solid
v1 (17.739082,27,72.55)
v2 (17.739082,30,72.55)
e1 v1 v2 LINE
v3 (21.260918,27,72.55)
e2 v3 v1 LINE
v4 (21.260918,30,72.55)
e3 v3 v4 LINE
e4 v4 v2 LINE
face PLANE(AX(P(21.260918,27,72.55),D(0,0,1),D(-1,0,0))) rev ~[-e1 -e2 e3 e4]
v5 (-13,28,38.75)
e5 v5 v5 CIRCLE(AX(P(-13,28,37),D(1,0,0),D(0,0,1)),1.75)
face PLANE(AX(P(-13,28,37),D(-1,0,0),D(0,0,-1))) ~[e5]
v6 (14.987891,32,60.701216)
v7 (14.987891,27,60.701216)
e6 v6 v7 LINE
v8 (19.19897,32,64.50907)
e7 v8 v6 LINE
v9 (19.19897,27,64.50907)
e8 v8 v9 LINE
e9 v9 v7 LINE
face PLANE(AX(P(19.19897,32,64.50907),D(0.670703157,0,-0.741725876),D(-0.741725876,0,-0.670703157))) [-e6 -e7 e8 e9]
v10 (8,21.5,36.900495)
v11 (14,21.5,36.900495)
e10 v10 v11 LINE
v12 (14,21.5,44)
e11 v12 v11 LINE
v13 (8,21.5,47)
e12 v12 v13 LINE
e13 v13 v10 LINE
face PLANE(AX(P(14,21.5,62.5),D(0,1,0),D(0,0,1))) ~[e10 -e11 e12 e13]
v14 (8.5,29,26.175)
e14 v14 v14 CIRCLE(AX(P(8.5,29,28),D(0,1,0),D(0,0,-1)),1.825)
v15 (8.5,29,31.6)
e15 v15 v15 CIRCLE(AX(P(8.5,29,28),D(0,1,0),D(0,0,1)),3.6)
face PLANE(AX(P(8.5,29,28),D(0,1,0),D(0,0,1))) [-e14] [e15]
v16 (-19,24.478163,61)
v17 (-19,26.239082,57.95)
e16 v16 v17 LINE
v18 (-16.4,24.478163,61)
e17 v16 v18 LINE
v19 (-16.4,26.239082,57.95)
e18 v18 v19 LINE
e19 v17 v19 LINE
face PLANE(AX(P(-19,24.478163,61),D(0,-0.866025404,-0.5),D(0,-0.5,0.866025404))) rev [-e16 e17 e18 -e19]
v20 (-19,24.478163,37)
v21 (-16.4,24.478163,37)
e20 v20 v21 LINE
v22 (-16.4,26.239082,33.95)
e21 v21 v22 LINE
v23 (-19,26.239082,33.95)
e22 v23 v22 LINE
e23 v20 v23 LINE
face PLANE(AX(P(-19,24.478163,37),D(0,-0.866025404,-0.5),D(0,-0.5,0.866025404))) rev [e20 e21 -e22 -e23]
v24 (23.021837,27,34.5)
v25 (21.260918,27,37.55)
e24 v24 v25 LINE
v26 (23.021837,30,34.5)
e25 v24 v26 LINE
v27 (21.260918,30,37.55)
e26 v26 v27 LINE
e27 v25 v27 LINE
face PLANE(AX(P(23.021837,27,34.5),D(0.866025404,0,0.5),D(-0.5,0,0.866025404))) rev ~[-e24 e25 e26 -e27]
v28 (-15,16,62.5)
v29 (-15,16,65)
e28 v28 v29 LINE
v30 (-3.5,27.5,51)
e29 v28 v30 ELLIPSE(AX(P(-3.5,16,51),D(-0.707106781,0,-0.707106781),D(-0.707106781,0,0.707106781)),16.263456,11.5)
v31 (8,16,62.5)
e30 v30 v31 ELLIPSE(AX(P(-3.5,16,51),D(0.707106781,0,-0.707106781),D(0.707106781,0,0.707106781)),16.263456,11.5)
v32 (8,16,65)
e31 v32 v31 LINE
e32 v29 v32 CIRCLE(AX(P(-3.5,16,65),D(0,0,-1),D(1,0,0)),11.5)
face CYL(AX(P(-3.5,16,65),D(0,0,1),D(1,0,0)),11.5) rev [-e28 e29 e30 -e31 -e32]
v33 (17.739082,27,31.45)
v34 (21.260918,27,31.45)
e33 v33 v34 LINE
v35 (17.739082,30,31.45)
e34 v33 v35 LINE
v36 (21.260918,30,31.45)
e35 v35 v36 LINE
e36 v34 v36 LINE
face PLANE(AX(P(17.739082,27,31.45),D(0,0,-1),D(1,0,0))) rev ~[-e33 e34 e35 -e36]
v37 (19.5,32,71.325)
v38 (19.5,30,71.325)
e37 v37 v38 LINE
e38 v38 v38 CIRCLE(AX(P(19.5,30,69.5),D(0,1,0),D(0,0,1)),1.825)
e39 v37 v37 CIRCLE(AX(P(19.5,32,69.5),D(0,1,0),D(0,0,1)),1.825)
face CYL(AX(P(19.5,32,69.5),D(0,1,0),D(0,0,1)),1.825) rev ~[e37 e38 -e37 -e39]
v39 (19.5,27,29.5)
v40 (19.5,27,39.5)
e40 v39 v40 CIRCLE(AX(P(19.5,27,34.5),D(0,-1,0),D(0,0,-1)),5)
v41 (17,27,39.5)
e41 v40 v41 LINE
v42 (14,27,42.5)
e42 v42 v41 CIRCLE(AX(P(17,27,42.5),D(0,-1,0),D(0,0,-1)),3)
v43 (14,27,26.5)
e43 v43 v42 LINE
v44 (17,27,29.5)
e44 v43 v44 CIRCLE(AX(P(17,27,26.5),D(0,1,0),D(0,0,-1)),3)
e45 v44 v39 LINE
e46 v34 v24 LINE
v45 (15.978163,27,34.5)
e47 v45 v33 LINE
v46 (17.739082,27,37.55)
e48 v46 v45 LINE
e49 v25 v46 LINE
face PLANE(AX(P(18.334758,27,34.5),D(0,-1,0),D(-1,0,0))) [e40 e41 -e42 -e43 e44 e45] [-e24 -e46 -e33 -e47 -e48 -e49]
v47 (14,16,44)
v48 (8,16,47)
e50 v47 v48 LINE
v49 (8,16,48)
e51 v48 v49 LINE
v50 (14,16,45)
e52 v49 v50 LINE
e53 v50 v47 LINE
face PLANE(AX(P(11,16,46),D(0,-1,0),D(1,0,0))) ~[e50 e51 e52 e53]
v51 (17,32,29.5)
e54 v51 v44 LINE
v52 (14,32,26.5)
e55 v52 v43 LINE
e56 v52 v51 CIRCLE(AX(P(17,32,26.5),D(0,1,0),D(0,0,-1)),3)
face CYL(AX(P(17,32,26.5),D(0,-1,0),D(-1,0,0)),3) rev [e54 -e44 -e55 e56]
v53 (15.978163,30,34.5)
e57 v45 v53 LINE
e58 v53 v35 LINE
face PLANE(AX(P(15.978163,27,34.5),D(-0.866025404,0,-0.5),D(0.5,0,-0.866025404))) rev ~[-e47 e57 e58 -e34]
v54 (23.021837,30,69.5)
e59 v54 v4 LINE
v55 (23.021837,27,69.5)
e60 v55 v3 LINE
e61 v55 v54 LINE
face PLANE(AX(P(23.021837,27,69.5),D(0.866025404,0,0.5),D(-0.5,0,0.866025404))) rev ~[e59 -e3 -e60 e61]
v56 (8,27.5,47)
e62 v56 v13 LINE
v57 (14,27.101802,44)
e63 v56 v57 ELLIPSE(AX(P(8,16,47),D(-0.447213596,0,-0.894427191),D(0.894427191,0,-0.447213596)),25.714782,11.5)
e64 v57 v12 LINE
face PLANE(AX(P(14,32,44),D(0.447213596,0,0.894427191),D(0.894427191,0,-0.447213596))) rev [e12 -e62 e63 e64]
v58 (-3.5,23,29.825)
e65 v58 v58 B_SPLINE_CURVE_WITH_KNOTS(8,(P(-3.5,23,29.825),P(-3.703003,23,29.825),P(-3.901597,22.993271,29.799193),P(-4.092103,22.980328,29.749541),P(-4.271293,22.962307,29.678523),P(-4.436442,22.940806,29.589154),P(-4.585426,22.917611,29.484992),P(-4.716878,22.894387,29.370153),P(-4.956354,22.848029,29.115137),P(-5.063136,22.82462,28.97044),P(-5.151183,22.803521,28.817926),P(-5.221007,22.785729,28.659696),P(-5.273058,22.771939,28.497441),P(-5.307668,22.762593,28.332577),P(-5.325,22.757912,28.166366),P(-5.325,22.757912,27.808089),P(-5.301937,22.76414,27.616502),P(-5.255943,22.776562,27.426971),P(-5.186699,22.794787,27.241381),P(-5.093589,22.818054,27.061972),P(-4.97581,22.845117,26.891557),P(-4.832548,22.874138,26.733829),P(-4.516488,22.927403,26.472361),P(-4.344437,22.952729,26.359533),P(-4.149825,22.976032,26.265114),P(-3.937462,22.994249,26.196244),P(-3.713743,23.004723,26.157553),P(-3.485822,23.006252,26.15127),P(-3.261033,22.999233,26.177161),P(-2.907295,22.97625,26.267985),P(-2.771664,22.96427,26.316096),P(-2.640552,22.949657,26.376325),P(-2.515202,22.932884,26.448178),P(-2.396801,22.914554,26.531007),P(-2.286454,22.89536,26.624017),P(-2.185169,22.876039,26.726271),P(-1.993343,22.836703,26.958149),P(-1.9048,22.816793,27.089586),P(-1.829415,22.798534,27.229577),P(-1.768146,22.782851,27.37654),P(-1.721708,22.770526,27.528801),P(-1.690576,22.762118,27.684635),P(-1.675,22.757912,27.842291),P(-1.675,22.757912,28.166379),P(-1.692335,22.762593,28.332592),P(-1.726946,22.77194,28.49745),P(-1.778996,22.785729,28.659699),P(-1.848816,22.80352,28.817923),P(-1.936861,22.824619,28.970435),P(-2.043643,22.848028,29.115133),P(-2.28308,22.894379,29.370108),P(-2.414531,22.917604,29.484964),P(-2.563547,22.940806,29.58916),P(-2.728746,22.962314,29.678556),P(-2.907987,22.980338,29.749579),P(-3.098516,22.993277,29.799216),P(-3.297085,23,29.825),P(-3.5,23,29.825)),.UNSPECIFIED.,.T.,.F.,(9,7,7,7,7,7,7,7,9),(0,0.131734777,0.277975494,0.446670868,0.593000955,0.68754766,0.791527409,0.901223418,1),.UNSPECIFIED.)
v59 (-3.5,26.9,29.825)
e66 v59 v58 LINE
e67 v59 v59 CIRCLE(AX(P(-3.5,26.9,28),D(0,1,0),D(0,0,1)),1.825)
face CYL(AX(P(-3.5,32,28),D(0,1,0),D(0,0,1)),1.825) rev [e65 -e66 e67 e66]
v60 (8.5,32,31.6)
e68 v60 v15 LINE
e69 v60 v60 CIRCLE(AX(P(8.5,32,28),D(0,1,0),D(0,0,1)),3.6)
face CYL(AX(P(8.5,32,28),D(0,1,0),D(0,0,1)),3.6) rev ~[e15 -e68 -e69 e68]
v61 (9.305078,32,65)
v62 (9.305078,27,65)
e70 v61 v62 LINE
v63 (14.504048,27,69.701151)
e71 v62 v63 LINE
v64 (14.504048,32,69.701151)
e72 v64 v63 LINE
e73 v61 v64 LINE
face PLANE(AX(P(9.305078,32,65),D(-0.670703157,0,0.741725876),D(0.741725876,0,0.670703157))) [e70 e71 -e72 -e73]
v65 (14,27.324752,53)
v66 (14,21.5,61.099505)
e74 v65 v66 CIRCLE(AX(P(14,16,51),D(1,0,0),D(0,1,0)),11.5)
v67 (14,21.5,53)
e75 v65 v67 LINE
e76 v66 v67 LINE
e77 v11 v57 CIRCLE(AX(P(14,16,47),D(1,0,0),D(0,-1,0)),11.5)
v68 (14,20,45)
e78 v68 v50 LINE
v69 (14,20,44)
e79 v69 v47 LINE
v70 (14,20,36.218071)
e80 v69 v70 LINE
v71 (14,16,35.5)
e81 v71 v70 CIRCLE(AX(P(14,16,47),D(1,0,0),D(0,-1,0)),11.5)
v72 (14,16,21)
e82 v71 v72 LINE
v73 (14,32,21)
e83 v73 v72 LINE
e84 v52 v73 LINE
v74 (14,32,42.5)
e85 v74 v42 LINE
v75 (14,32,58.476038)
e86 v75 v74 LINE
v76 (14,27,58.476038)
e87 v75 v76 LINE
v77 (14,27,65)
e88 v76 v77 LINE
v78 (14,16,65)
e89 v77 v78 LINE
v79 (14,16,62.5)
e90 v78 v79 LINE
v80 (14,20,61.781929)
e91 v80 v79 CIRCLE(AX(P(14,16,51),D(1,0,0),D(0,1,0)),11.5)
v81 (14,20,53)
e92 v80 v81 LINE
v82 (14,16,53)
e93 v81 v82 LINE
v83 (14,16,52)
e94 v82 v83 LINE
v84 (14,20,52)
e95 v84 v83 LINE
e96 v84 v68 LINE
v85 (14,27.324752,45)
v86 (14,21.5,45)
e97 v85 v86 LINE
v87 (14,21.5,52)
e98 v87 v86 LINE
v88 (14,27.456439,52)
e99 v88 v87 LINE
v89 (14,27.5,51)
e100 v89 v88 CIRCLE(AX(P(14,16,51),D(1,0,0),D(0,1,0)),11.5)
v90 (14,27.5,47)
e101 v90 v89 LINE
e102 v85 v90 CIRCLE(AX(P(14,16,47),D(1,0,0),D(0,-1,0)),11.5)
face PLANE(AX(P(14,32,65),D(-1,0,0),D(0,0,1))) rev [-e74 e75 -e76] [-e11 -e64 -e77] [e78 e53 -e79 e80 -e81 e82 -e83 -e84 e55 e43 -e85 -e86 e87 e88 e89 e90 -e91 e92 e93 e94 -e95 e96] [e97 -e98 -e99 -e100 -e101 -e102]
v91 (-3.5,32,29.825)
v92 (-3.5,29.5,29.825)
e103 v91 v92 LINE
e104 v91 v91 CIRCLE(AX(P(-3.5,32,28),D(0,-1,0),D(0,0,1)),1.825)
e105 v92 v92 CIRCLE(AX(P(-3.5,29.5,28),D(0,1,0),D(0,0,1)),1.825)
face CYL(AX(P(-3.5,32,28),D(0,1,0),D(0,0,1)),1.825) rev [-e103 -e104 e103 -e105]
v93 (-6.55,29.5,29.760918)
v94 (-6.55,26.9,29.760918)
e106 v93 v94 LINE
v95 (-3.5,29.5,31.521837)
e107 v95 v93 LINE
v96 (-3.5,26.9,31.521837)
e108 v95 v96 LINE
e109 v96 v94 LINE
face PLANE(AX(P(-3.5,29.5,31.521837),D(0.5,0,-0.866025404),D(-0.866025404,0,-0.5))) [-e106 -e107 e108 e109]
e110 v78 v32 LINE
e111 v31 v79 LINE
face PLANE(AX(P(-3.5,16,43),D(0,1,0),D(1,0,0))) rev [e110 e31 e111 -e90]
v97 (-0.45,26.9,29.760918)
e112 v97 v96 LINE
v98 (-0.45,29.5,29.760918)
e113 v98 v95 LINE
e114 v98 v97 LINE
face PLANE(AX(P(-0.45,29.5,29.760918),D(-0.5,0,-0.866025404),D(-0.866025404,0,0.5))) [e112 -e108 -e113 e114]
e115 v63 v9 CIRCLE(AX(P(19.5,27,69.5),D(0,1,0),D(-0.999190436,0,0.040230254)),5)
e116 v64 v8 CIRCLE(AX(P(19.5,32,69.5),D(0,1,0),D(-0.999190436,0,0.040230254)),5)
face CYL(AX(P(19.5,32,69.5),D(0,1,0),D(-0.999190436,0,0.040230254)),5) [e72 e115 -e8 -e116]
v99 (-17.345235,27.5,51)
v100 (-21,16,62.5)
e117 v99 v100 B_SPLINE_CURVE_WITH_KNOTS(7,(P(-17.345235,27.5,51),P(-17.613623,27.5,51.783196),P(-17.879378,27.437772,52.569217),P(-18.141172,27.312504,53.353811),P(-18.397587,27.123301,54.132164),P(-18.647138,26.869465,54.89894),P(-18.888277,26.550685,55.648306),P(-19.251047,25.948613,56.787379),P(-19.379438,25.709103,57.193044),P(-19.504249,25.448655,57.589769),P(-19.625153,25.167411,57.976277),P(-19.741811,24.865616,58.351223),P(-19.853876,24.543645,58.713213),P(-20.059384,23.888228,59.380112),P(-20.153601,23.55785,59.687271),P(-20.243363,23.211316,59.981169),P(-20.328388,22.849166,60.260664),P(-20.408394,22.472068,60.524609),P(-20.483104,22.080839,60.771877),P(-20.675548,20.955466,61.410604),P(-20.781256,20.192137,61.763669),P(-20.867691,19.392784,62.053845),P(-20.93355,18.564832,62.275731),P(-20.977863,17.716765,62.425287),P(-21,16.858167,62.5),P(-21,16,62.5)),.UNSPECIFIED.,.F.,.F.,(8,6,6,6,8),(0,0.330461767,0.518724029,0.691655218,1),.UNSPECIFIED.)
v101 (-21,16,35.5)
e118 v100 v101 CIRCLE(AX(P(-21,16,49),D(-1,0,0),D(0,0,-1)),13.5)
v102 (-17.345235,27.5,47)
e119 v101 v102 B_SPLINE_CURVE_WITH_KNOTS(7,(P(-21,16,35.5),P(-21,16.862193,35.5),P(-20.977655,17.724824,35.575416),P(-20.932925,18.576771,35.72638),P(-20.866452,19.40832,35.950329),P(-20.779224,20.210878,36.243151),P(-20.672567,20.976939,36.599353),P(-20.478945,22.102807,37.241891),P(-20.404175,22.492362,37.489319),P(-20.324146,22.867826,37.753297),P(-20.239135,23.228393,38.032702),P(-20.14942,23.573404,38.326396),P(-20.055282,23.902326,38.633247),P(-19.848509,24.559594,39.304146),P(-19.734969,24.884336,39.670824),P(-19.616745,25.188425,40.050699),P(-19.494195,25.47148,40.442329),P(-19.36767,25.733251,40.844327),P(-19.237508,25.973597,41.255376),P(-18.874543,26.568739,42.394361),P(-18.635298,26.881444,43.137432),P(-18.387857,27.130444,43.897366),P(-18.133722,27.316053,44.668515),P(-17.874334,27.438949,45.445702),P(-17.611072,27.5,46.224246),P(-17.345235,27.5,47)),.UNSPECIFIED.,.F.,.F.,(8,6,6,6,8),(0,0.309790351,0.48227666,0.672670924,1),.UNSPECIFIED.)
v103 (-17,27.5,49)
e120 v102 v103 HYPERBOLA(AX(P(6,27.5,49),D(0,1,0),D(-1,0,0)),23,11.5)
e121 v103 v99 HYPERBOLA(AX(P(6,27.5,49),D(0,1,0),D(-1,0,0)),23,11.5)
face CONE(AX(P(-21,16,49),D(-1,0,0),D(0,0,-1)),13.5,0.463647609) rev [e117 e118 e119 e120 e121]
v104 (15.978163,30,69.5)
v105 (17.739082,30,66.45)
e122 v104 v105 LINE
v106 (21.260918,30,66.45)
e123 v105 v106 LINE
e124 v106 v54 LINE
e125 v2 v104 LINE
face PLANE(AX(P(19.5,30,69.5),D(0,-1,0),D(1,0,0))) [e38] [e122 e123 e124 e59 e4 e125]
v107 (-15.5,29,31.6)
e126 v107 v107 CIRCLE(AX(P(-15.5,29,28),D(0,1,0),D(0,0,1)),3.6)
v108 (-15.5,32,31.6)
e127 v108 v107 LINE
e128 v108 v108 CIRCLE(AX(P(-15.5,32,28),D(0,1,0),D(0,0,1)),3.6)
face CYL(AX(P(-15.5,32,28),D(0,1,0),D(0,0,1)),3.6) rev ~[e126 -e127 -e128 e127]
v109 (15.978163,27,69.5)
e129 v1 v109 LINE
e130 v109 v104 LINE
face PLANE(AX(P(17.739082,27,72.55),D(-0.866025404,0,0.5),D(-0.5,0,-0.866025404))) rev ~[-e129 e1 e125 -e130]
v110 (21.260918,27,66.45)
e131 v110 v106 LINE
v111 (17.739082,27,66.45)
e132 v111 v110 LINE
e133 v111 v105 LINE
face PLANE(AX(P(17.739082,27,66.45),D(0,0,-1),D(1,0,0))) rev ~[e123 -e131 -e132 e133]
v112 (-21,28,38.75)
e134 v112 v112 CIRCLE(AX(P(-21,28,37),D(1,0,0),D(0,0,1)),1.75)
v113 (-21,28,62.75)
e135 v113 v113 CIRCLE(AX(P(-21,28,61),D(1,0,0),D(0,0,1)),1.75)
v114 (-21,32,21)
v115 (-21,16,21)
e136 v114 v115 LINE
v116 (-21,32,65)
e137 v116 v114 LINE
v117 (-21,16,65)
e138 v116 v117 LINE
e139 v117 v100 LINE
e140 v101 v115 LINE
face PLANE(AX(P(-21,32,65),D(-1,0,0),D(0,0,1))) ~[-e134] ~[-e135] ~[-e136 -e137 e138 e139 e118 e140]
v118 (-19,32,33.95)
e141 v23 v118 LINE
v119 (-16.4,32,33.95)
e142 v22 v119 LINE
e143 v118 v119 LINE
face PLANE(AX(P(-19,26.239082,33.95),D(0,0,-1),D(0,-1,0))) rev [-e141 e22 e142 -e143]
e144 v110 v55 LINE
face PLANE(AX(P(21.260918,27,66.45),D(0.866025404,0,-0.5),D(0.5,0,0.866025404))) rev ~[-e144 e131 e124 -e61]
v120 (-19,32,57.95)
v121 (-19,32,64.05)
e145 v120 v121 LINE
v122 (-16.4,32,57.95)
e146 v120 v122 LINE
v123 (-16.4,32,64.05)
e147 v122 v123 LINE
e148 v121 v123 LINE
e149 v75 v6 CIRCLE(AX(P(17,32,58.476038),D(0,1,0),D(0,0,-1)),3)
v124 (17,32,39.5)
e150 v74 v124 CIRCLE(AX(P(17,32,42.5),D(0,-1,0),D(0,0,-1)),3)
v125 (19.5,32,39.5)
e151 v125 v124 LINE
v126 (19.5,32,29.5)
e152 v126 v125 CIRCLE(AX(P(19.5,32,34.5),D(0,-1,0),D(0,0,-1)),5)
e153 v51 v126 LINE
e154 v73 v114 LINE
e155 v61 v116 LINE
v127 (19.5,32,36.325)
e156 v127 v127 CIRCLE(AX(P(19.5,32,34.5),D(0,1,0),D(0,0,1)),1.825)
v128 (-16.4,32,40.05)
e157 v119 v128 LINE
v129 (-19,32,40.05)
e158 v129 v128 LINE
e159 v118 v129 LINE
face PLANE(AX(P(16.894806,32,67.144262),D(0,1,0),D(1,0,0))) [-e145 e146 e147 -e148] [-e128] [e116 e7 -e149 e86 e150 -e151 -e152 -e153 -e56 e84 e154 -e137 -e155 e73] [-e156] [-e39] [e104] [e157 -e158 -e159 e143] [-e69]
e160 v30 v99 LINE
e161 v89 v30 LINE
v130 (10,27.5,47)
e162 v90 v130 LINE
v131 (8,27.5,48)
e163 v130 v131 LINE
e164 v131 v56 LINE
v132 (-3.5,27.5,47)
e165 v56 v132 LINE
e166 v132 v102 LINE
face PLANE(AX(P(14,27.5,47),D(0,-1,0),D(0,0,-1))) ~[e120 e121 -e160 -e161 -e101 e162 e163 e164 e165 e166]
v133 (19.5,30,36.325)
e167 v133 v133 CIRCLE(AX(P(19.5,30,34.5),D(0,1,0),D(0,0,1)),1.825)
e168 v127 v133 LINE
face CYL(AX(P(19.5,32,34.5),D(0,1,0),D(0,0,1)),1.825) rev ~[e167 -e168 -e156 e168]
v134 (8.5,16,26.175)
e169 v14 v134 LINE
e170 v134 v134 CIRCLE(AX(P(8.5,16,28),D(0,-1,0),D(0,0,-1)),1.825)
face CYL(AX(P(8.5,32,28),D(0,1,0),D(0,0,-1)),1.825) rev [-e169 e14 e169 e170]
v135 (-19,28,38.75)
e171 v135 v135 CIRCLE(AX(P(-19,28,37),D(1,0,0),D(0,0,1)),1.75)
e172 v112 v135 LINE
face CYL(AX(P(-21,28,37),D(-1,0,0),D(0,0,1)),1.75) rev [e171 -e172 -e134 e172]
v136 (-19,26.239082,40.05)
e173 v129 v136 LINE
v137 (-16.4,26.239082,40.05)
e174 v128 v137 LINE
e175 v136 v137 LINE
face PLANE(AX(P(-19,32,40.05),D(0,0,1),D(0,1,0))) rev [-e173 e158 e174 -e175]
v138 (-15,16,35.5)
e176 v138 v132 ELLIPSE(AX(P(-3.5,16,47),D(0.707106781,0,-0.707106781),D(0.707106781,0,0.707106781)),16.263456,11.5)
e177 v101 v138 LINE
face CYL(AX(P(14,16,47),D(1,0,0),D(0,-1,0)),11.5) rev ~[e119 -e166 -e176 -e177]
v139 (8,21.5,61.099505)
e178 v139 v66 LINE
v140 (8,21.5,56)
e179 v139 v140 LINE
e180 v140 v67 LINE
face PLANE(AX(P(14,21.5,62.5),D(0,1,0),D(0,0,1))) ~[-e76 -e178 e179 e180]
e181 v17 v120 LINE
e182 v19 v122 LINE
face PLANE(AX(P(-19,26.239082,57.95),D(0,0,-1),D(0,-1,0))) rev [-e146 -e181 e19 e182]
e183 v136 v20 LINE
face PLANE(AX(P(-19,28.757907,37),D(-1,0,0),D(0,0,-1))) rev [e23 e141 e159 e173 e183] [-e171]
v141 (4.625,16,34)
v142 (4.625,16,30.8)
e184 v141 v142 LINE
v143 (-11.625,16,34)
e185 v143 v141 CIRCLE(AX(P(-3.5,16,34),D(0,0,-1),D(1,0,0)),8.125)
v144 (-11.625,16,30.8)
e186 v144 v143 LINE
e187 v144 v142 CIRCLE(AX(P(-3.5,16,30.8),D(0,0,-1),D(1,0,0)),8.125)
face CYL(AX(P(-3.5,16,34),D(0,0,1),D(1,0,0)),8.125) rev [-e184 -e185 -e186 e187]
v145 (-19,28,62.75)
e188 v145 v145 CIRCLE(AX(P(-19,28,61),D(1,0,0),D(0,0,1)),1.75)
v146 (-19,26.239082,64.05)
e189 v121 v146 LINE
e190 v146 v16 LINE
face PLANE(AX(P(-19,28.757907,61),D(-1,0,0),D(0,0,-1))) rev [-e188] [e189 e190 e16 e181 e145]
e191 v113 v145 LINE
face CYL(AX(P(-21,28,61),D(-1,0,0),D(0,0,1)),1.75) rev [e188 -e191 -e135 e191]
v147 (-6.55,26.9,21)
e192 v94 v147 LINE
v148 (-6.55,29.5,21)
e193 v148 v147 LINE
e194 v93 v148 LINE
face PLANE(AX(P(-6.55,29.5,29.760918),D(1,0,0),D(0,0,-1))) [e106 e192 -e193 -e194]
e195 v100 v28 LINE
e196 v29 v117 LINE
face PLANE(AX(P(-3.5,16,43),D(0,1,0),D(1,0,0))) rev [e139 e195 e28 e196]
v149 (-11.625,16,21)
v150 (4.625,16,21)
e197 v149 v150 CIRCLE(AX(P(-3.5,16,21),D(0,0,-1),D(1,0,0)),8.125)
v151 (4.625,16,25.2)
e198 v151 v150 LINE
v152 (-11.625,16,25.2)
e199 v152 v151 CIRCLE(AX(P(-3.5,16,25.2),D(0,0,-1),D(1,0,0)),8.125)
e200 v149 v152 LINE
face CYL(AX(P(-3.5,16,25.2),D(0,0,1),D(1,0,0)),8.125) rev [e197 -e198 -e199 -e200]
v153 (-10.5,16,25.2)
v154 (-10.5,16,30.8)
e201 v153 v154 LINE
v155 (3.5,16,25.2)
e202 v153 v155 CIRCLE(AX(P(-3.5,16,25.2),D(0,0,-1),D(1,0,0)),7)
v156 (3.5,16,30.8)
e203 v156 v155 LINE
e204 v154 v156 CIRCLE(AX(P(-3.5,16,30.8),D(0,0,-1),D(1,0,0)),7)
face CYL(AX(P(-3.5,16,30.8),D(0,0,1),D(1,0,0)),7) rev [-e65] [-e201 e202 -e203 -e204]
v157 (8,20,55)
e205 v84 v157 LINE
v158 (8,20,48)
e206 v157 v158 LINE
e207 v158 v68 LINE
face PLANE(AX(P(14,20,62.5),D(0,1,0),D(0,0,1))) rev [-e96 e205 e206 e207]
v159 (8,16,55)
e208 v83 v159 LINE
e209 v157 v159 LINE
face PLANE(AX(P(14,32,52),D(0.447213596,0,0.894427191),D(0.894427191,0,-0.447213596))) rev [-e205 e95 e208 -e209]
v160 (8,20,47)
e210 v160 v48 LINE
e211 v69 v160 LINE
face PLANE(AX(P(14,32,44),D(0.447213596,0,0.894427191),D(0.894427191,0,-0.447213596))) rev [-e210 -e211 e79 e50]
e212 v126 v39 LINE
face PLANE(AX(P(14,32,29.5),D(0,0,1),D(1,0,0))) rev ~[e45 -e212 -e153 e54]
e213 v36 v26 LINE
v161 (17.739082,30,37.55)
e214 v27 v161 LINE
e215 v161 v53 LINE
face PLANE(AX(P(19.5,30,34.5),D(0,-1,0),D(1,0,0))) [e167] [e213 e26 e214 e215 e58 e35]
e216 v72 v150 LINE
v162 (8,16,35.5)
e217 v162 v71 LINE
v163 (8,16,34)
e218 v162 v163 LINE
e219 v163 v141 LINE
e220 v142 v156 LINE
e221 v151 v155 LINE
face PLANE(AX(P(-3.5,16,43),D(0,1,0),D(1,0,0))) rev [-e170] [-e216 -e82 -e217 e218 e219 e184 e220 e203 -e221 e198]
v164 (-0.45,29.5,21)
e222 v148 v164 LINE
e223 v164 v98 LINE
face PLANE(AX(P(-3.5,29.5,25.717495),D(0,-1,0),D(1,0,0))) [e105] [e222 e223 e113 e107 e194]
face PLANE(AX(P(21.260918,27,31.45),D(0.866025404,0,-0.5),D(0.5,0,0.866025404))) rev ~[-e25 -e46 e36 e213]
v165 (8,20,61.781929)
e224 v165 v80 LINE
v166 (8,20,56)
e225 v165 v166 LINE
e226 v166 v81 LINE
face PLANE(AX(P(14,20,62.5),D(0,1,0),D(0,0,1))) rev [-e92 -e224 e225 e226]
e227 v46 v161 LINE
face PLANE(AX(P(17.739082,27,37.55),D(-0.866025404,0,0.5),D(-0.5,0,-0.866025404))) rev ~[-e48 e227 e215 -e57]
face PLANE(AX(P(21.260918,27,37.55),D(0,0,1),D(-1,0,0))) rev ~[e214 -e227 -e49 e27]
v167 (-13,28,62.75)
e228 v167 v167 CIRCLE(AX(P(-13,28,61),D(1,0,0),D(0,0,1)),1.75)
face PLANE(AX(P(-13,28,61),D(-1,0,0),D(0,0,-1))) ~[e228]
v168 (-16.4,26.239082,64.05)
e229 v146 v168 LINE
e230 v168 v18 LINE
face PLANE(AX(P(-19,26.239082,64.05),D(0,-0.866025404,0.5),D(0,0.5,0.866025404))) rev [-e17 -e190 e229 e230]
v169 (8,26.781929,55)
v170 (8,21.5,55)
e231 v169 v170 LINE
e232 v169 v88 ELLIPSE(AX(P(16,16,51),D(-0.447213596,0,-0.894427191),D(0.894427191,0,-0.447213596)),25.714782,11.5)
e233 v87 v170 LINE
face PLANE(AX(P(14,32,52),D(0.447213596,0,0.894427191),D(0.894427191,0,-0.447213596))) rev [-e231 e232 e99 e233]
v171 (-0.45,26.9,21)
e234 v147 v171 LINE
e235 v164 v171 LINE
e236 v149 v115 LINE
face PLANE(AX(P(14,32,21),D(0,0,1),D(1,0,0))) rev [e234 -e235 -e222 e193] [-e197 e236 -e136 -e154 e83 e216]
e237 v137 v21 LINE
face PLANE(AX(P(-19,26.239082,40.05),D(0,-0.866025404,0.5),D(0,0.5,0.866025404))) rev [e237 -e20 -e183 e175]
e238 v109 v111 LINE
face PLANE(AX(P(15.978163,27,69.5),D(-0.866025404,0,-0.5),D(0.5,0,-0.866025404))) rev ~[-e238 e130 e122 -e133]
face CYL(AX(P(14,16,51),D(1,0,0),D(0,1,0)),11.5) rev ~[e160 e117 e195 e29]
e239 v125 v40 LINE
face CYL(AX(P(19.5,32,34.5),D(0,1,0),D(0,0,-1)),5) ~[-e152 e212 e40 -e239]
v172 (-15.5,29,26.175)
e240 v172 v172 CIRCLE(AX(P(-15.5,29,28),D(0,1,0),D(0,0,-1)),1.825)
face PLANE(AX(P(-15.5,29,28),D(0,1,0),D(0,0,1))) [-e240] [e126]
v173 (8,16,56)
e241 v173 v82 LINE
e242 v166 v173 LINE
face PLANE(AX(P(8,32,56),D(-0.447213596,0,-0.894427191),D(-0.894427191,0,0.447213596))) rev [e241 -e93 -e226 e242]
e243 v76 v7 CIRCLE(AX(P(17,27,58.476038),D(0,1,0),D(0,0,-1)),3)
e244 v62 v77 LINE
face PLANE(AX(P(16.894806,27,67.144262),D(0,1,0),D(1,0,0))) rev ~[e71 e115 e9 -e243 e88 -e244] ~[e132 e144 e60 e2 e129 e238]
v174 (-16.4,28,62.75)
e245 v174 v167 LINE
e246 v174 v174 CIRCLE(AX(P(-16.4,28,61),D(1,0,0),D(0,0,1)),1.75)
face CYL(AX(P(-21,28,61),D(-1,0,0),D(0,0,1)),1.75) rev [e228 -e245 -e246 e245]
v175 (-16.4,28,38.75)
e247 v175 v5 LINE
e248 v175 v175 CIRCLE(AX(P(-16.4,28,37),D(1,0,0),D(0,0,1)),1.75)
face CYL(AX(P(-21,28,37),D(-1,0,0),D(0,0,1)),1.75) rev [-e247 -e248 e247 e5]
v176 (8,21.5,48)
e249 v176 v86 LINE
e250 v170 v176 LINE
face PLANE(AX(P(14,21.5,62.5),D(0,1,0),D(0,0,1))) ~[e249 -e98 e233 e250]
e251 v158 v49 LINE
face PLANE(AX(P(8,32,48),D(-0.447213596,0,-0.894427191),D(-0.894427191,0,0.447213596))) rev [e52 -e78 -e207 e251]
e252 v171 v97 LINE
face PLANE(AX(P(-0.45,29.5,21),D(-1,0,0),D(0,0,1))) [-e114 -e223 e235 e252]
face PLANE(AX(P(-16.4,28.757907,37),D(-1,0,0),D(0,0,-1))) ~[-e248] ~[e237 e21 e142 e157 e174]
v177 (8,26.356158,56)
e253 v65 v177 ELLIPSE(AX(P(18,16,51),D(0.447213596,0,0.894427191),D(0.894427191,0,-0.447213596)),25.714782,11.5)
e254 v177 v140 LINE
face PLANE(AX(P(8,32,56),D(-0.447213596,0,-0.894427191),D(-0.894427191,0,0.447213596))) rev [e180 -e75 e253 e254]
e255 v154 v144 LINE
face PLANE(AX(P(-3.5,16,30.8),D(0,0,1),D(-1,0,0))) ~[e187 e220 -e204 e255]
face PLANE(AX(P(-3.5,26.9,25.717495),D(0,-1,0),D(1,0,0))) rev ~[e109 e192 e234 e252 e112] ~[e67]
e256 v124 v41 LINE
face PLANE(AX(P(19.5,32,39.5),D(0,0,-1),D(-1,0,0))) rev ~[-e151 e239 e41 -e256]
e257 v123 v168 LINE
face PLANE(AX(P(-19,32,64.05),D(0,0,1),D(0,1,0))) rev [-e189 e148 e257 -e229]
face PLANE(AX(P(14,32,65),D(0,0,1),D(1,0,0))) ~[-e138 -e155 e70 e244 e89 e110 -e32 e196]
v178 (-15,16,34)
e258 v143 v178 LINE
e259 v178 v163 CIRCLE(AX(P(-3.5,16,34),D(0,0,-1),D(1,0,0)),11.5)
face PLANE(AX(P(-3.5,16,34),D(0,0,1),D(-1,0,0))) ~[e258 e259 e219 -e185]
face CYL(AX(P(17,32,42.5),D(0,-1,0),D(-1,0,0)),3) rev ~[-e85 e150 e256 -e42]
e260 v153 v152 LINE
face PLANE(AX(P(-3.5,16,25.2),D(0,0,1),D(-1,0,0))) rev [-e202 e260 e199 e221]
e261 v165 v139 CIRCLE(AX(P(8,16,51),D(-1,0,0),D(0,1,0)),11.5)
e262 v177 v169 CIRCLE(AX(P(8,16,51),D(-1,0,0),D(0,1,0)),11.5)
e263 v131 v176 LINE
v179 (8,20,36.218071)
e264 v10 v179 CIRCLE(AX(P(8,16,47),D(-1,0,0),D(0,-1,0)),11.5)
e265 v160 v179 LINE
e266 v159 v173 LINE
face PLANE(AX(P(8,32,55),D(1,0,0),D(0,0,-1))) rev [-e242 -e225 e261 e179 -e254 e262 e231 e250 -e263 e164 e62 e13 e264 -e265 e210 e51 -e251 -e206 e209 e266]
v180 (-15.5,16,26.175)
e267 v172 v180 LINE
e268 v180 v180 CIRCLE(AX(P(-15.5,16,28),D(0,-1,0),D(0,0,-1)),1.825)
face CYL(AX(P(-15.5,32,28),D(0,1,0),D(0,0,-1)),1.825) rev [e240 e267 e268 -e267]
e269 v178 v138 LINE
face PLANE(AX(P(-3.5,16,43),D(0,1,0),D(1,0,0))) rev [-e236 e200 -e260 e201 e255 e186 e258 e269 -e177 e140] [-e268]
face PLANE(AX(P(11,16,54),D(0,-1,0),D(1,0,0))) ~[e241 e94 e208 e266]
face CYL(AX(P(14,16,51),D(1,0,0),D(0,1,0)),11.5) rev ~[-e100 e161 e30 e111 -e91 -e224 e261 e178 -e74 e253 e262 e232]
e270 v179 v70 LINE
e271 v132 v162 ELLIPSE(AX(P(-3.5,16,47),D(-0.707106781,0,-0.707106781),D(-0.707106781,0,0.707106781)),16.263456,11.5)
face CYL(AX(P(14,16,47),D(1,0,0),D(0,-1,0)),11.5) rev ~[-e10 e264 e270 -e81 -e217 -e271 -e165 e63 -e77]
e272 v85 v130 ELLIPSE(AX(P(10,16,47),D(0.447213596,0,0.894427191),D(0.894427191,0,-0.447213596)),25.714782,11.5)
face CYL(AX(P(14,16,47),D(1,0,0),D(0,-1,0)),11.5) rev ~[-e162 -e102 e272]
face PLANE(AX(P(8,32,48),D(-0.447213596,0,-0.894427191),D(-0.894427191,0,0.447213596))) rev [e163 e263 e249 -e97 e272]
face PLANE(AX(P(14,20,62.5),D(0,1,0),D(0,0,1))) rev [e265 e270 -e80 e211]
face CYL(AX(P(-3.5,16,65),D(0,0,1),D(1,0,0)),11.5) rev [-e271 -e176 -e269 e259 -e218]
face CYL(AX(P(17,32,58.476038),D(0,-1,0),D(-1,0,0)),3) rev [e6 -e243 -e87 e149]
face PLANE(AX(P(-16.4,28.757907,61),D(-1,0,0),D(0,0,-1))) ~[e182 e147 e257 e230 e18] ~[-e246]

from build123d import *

# Parameters (mm, degrees)
SKETCH12_W                = 35
SKETCH12_H                = 44
CHAMBER_DEPTH             = 16
SKETCH13_R                = 11.5
BODY_DEPTH                = 31
HOT_END_TONEL_DEPTH       = 76.538069872
SKETCH26_W                = 27
SKETCH26_H                = 1.5
GRID_V_DEPTH              = 6
GRID_H_DEPTH              = 16
SKETCH16_R                = 13.5
SKETCH18_R                = 11.5
SKETCH20_R                = 8.125
HOT_END_1_DEPTH           = 3.2
SKETCH21_R                = 7
HOT_END_2_DEPTH           = 5.6
SKETCH22_R                = 8.125
HOT_END_3_DEPTH           = 4.2
SKETCH24_R                = 1.825
MOUNT_HOLES_DEPTH         = 71.156967099
SKETCH25_R                = 1.75
FAN_MOUNT_HOLES_DEPTH     = 8
FAN_MOUNT_NUT_HOLES_START = -2
FAN_MOUNT_NUT_HOLES_DEPTH = 2.6
SKETCH32_R                = 1.825
HOT_END_SCREW_HOLE_DEPTH  = 20
HOT_END_NUT_HOLE_START    = 2.5
HOT_END_NUT_HOLE_DEPTH    = 2.6
SKETCH35_R                = 1.825
BOSS_EXTRUDE1_DEPTH       = 5
CUT_EXTRUDE5_DEPTH        = 3
SKETCH37_R                = 3.6
CUT_EXTRUDE6_DEPTH        = 3
FILLET1_R                 = 3


with BuildPart() as part:
    # Sketch12 → chamber (new body)
    with BuildSketch(Plane(origin=(0, 0, 0), x_dir=(-1, 0, 0), z_dir=(0, -1, 0))):
        with Locations((3.5, -43)):
            Rectangle(SKETCH12_W, SKETCH12_H)
    extrude(amount=-CHAMBER_DEPTH)

    # Sketch13 → body (cut)
    with BuildSketch(Plane.XY.offset(65)):
        with Locations((-3.5, 16)):
            Circle(SKETCH13_R)
    extrude(amount=-BODY_DEPTH, mode=Mode.SUBTRACT)

    # Sketch14 → hot-end-tonel (cut, through all)
    with BuildSketch(Plane(origin=(14, 0, 0), x_dir=(0, 0, -1), z_dir=(1, 0, 0))):
        with BuildLine():
            Line((-51, 27.5), (-47, 27.5))
            ThreePointArc((-47, 27.5), (-35.5, 16), (-47, 4.5))
            Line((-47, 4.5), (-51, 4.5))
            ThreePointArc((-51, 4.5), (-62.5, 16), (-51, 27.5))
        make_face()
    extrude(amount=-HOT_END_TONEL_DEPTH, mode=Mode.SUBTRACT)

    # Sketch26 → grid-v (add)
    with BuildSketch(Plane(origin=(14, 0, 0), x_dir=(0, 0, -1), z_dir=(1, 0, 0))):
        with Locations((-49, 11.25)):
            Rectangle(SKETCH26_W, SKETCH26_H)
    extrude(amount=-GRID_V_DEPTH)

    # Sketch27 → grid-h (add)
    with BuildSketch(Plane.XZ):
        Polygon((8, 56), (14, 53), (14, 52), (8, 55), align=None)
        Polygon((14, 44), (8, 47), (8, 48), (14, 45), align=None)
    extrude(amount=-GRID_H_DEPTH)

    # Sketch16 → Cut-Loft1 section 0
    with BuildSketch(Plane(origin=(-21, 0, 0), x_dir=(0, 0, -1), z_dir=(1, 0, 0))):
        with Locations((-49, 16)):
            Circle(SKETCH16_R)
    # Sketch18 → Cut-Loft1 section 1
    with BuildSketch(Plane.ZY.offset(17)):
        with Locations((49, 16)):
            Circle(SKETCH18_R)
    loft(mode=Mode.SUBTRACT)

    # Sketch20 → hot-end-1 (cut)
    with BuildSketch(Plane.XY.offset(34)):
        with Locations((-3.5, 16)):
            Circle(SKETCH20_R)
    extrude(amount=-HOT_END_1_DEPTH, mode=Mode.SUBTRACT)

    # Sketch21 → hot-end-2 (cut)
    with BuildSketch(Plane.XY.offset(30.8)):
        with Locations((-3.5, 16)):
            Circle(SKETCH21_R)
    extrude(amount=-HOT_END_2_DEPTH, mode=Mode.SUBTRACT)

    # Sketch22 → hot-end-3 (cut)
    with BuildSketch(Plane.XY.offset(25.2)):
        with Locations((-3.5, 16)):
            Circle(SKETCH22_R)
    extrude(amount=-HOT_END_3_DEPTH, mode=Mode.SUBTRACT)

    # Sketch24 → mount-holes (cut, through all)
    with BuildSketch(Plane.XZ):
        with Locations((-15.5, 28)):
            Circle(SKETCH24_R)
        with Locations((8.5, 28)):
            Circle(SKETCH24_R)
    extrude(amount=-MOUNT_HOLES_DEPTH, mode=Mode.SUBTRACT)

    # Sketch25 → fan-mount-holes (cut)
    with BuildSketch(Plane.ZY.offset(21)):
        with Locations((60.999999795, 4)):
            Circle(SKETCH25_R)
        with Locations((36.999999795, 4)):
            Circle(SKETCH25_R)
    extrude(amount=-FAN_MOUNT_HOLES_DEPTH, mode=Mode.SUBTRACT)

    # Sketch34 → fan-mount-nut-holes (cut)
    with BuildSketch(Plane.ZY.offset(21).offset(FAN_MOUNT_NUT_HOLES_START)):
        Polygon((33.949999795, 0), (40.049999795, 0), (40.049999795, 5.760918321), (36.999999795, 7.521836642), (33.949999795, 5.760918321), align=None)
        Polygon((64.049999795, 0), (64.049999795, 5.760918321), (60.999999795, 7.521836642), (57.949999795, 5.760918321), (57.949999795, 0), align=None)
    extrude(amount=-FAN_MOUNT_NUT_HOLES_DEPTH, mode=Mode.SUBTRACT)


with BuildPart() as body_2:
    # Mirror1: mirrored copy
    add(part.part.mirror(Plane.ZX.offset(16)))

    # Sketch32 → hot-end-screw-hole (cut)
    with BuildSketch(Plane(origin=(0, 32, 0), x_dir=(-1, 0, 0), z_dir=(0, -1, 0))):
        with Locations((3.5, -28)):
            Circle(SKETCH32_R)
    extrude(amount=HOT_END_SCREW_HOLE_DEPTH, mode=Mode.SUBTRACT)

    # Sketch33 → hot-end-nut-hole (cut)
    with BuildSketch(Plane.XZ.offset(-32).offset(HOT_END_NUT_HOLE_START)):
        Polygon((-6.55, 21), (-0.45, 21), (-0.45, 29.760918321), (-3.5, 31.521836642), (-6.55, 29.760918321), align=None)
    extrude(amount=HOT_END_NUT_HOLE_DEPTH, mode=Mode.SUBTRACT)

    # Sketch35 → Boss-Extrude1 (add)
    # profile 1 of 2: a face of its own
    with BuildSketch(Plane(origin=(0, 32, 0), x_dir=(1, 0, 0), z_dir=(0, 1, 0))):
        with BuildLine():
            Line((9.305077899, -65), (14.504047822, -69.701151268))
            ThreePointArc((14.504047822, -69.701151268), (23.208629379, -72.853515786), (19.198969923, -64.509070137))
            Line((19.198969923, -64.509070137), (14, -59.807918869))
            Line((14, -59.807918869), (9.305077899, -65))
        make_face()
        with Locations((19.5, -69.5)):
            Circle(SKETCH35_R, mode=Mode.SUBTRACT)
    # profile 2 of 2: a face of its own
    with BuildSketch(Plane(origin=(0, 32, 0), x_dir=(1, 0, 0), z_dir=(0, 1, 0))):
        with BuildLine():
            Line((14, -39.5), (14, -29.5))
            Line((14, -29.5), (19.5, -29.5))
            ThreePointArc((19.5, -29.5), (24.5, -34.5), (19.5, -39.5))
            Line((19.5, -39.5), (14, -39.5))
        make_face()
        with Locations((19.5, -34.5)):
            Circle(SKETCH35_R, mode=Mode.SUBTRACT)
    extrude(amount=-BOSS_EXTRUDE1_DEPTH)

    # Sketch36 → Cut-Extrude5 (cut)
    with BuildSketch(Plane.XZ.offset(-27)):
        Polygon((17.739081679, 31.45), (21.260918321, 31.45), (23.021836642, 34.5), (21.260918321, 37.55), (17.739081679, 37.55), (15.978163358, 34.5), align=None)
        Polygon((23.021836642, 69.5), (21.260918321, 72.55), (17.739081679, 72.55), (15.978163358, 69.5), (17.739081679, 66.45), (21.260918321, 66.45), align=None)
    extrude(amount=-CUT_EXTRUDE5_DEPTH, mode=Mode.SUBTRACT)

    # Sketch37 → Cut-Extrude6 (cut)
    with BuildSketch(Plane(origin=(0, 32, 0), x_dir=(1, 0, 0), z_dir=(0, 1, 0))):
        with Locations((-15.5, -28)):
            Circle(SKETCH37_R)
        with Locations((8.5, -28)):
            Circle(SKETCH37_R)
    extrude(amount=-CUT_EXTRUDE6_DEPTH, mode=Mode.SUBTRACT)

    # Fillet1
    fillet1_edges = [body_2.edges().sort_by_distance(p)[0] for p in [
        (14, 29.5, 59.807918869),
        (14, 29.5, 29.5),
        (14, 29.5, 39.5),
    ]]
    fillet(fillet1_edges, radius=FILLET1_R)


solid = body_2.part
